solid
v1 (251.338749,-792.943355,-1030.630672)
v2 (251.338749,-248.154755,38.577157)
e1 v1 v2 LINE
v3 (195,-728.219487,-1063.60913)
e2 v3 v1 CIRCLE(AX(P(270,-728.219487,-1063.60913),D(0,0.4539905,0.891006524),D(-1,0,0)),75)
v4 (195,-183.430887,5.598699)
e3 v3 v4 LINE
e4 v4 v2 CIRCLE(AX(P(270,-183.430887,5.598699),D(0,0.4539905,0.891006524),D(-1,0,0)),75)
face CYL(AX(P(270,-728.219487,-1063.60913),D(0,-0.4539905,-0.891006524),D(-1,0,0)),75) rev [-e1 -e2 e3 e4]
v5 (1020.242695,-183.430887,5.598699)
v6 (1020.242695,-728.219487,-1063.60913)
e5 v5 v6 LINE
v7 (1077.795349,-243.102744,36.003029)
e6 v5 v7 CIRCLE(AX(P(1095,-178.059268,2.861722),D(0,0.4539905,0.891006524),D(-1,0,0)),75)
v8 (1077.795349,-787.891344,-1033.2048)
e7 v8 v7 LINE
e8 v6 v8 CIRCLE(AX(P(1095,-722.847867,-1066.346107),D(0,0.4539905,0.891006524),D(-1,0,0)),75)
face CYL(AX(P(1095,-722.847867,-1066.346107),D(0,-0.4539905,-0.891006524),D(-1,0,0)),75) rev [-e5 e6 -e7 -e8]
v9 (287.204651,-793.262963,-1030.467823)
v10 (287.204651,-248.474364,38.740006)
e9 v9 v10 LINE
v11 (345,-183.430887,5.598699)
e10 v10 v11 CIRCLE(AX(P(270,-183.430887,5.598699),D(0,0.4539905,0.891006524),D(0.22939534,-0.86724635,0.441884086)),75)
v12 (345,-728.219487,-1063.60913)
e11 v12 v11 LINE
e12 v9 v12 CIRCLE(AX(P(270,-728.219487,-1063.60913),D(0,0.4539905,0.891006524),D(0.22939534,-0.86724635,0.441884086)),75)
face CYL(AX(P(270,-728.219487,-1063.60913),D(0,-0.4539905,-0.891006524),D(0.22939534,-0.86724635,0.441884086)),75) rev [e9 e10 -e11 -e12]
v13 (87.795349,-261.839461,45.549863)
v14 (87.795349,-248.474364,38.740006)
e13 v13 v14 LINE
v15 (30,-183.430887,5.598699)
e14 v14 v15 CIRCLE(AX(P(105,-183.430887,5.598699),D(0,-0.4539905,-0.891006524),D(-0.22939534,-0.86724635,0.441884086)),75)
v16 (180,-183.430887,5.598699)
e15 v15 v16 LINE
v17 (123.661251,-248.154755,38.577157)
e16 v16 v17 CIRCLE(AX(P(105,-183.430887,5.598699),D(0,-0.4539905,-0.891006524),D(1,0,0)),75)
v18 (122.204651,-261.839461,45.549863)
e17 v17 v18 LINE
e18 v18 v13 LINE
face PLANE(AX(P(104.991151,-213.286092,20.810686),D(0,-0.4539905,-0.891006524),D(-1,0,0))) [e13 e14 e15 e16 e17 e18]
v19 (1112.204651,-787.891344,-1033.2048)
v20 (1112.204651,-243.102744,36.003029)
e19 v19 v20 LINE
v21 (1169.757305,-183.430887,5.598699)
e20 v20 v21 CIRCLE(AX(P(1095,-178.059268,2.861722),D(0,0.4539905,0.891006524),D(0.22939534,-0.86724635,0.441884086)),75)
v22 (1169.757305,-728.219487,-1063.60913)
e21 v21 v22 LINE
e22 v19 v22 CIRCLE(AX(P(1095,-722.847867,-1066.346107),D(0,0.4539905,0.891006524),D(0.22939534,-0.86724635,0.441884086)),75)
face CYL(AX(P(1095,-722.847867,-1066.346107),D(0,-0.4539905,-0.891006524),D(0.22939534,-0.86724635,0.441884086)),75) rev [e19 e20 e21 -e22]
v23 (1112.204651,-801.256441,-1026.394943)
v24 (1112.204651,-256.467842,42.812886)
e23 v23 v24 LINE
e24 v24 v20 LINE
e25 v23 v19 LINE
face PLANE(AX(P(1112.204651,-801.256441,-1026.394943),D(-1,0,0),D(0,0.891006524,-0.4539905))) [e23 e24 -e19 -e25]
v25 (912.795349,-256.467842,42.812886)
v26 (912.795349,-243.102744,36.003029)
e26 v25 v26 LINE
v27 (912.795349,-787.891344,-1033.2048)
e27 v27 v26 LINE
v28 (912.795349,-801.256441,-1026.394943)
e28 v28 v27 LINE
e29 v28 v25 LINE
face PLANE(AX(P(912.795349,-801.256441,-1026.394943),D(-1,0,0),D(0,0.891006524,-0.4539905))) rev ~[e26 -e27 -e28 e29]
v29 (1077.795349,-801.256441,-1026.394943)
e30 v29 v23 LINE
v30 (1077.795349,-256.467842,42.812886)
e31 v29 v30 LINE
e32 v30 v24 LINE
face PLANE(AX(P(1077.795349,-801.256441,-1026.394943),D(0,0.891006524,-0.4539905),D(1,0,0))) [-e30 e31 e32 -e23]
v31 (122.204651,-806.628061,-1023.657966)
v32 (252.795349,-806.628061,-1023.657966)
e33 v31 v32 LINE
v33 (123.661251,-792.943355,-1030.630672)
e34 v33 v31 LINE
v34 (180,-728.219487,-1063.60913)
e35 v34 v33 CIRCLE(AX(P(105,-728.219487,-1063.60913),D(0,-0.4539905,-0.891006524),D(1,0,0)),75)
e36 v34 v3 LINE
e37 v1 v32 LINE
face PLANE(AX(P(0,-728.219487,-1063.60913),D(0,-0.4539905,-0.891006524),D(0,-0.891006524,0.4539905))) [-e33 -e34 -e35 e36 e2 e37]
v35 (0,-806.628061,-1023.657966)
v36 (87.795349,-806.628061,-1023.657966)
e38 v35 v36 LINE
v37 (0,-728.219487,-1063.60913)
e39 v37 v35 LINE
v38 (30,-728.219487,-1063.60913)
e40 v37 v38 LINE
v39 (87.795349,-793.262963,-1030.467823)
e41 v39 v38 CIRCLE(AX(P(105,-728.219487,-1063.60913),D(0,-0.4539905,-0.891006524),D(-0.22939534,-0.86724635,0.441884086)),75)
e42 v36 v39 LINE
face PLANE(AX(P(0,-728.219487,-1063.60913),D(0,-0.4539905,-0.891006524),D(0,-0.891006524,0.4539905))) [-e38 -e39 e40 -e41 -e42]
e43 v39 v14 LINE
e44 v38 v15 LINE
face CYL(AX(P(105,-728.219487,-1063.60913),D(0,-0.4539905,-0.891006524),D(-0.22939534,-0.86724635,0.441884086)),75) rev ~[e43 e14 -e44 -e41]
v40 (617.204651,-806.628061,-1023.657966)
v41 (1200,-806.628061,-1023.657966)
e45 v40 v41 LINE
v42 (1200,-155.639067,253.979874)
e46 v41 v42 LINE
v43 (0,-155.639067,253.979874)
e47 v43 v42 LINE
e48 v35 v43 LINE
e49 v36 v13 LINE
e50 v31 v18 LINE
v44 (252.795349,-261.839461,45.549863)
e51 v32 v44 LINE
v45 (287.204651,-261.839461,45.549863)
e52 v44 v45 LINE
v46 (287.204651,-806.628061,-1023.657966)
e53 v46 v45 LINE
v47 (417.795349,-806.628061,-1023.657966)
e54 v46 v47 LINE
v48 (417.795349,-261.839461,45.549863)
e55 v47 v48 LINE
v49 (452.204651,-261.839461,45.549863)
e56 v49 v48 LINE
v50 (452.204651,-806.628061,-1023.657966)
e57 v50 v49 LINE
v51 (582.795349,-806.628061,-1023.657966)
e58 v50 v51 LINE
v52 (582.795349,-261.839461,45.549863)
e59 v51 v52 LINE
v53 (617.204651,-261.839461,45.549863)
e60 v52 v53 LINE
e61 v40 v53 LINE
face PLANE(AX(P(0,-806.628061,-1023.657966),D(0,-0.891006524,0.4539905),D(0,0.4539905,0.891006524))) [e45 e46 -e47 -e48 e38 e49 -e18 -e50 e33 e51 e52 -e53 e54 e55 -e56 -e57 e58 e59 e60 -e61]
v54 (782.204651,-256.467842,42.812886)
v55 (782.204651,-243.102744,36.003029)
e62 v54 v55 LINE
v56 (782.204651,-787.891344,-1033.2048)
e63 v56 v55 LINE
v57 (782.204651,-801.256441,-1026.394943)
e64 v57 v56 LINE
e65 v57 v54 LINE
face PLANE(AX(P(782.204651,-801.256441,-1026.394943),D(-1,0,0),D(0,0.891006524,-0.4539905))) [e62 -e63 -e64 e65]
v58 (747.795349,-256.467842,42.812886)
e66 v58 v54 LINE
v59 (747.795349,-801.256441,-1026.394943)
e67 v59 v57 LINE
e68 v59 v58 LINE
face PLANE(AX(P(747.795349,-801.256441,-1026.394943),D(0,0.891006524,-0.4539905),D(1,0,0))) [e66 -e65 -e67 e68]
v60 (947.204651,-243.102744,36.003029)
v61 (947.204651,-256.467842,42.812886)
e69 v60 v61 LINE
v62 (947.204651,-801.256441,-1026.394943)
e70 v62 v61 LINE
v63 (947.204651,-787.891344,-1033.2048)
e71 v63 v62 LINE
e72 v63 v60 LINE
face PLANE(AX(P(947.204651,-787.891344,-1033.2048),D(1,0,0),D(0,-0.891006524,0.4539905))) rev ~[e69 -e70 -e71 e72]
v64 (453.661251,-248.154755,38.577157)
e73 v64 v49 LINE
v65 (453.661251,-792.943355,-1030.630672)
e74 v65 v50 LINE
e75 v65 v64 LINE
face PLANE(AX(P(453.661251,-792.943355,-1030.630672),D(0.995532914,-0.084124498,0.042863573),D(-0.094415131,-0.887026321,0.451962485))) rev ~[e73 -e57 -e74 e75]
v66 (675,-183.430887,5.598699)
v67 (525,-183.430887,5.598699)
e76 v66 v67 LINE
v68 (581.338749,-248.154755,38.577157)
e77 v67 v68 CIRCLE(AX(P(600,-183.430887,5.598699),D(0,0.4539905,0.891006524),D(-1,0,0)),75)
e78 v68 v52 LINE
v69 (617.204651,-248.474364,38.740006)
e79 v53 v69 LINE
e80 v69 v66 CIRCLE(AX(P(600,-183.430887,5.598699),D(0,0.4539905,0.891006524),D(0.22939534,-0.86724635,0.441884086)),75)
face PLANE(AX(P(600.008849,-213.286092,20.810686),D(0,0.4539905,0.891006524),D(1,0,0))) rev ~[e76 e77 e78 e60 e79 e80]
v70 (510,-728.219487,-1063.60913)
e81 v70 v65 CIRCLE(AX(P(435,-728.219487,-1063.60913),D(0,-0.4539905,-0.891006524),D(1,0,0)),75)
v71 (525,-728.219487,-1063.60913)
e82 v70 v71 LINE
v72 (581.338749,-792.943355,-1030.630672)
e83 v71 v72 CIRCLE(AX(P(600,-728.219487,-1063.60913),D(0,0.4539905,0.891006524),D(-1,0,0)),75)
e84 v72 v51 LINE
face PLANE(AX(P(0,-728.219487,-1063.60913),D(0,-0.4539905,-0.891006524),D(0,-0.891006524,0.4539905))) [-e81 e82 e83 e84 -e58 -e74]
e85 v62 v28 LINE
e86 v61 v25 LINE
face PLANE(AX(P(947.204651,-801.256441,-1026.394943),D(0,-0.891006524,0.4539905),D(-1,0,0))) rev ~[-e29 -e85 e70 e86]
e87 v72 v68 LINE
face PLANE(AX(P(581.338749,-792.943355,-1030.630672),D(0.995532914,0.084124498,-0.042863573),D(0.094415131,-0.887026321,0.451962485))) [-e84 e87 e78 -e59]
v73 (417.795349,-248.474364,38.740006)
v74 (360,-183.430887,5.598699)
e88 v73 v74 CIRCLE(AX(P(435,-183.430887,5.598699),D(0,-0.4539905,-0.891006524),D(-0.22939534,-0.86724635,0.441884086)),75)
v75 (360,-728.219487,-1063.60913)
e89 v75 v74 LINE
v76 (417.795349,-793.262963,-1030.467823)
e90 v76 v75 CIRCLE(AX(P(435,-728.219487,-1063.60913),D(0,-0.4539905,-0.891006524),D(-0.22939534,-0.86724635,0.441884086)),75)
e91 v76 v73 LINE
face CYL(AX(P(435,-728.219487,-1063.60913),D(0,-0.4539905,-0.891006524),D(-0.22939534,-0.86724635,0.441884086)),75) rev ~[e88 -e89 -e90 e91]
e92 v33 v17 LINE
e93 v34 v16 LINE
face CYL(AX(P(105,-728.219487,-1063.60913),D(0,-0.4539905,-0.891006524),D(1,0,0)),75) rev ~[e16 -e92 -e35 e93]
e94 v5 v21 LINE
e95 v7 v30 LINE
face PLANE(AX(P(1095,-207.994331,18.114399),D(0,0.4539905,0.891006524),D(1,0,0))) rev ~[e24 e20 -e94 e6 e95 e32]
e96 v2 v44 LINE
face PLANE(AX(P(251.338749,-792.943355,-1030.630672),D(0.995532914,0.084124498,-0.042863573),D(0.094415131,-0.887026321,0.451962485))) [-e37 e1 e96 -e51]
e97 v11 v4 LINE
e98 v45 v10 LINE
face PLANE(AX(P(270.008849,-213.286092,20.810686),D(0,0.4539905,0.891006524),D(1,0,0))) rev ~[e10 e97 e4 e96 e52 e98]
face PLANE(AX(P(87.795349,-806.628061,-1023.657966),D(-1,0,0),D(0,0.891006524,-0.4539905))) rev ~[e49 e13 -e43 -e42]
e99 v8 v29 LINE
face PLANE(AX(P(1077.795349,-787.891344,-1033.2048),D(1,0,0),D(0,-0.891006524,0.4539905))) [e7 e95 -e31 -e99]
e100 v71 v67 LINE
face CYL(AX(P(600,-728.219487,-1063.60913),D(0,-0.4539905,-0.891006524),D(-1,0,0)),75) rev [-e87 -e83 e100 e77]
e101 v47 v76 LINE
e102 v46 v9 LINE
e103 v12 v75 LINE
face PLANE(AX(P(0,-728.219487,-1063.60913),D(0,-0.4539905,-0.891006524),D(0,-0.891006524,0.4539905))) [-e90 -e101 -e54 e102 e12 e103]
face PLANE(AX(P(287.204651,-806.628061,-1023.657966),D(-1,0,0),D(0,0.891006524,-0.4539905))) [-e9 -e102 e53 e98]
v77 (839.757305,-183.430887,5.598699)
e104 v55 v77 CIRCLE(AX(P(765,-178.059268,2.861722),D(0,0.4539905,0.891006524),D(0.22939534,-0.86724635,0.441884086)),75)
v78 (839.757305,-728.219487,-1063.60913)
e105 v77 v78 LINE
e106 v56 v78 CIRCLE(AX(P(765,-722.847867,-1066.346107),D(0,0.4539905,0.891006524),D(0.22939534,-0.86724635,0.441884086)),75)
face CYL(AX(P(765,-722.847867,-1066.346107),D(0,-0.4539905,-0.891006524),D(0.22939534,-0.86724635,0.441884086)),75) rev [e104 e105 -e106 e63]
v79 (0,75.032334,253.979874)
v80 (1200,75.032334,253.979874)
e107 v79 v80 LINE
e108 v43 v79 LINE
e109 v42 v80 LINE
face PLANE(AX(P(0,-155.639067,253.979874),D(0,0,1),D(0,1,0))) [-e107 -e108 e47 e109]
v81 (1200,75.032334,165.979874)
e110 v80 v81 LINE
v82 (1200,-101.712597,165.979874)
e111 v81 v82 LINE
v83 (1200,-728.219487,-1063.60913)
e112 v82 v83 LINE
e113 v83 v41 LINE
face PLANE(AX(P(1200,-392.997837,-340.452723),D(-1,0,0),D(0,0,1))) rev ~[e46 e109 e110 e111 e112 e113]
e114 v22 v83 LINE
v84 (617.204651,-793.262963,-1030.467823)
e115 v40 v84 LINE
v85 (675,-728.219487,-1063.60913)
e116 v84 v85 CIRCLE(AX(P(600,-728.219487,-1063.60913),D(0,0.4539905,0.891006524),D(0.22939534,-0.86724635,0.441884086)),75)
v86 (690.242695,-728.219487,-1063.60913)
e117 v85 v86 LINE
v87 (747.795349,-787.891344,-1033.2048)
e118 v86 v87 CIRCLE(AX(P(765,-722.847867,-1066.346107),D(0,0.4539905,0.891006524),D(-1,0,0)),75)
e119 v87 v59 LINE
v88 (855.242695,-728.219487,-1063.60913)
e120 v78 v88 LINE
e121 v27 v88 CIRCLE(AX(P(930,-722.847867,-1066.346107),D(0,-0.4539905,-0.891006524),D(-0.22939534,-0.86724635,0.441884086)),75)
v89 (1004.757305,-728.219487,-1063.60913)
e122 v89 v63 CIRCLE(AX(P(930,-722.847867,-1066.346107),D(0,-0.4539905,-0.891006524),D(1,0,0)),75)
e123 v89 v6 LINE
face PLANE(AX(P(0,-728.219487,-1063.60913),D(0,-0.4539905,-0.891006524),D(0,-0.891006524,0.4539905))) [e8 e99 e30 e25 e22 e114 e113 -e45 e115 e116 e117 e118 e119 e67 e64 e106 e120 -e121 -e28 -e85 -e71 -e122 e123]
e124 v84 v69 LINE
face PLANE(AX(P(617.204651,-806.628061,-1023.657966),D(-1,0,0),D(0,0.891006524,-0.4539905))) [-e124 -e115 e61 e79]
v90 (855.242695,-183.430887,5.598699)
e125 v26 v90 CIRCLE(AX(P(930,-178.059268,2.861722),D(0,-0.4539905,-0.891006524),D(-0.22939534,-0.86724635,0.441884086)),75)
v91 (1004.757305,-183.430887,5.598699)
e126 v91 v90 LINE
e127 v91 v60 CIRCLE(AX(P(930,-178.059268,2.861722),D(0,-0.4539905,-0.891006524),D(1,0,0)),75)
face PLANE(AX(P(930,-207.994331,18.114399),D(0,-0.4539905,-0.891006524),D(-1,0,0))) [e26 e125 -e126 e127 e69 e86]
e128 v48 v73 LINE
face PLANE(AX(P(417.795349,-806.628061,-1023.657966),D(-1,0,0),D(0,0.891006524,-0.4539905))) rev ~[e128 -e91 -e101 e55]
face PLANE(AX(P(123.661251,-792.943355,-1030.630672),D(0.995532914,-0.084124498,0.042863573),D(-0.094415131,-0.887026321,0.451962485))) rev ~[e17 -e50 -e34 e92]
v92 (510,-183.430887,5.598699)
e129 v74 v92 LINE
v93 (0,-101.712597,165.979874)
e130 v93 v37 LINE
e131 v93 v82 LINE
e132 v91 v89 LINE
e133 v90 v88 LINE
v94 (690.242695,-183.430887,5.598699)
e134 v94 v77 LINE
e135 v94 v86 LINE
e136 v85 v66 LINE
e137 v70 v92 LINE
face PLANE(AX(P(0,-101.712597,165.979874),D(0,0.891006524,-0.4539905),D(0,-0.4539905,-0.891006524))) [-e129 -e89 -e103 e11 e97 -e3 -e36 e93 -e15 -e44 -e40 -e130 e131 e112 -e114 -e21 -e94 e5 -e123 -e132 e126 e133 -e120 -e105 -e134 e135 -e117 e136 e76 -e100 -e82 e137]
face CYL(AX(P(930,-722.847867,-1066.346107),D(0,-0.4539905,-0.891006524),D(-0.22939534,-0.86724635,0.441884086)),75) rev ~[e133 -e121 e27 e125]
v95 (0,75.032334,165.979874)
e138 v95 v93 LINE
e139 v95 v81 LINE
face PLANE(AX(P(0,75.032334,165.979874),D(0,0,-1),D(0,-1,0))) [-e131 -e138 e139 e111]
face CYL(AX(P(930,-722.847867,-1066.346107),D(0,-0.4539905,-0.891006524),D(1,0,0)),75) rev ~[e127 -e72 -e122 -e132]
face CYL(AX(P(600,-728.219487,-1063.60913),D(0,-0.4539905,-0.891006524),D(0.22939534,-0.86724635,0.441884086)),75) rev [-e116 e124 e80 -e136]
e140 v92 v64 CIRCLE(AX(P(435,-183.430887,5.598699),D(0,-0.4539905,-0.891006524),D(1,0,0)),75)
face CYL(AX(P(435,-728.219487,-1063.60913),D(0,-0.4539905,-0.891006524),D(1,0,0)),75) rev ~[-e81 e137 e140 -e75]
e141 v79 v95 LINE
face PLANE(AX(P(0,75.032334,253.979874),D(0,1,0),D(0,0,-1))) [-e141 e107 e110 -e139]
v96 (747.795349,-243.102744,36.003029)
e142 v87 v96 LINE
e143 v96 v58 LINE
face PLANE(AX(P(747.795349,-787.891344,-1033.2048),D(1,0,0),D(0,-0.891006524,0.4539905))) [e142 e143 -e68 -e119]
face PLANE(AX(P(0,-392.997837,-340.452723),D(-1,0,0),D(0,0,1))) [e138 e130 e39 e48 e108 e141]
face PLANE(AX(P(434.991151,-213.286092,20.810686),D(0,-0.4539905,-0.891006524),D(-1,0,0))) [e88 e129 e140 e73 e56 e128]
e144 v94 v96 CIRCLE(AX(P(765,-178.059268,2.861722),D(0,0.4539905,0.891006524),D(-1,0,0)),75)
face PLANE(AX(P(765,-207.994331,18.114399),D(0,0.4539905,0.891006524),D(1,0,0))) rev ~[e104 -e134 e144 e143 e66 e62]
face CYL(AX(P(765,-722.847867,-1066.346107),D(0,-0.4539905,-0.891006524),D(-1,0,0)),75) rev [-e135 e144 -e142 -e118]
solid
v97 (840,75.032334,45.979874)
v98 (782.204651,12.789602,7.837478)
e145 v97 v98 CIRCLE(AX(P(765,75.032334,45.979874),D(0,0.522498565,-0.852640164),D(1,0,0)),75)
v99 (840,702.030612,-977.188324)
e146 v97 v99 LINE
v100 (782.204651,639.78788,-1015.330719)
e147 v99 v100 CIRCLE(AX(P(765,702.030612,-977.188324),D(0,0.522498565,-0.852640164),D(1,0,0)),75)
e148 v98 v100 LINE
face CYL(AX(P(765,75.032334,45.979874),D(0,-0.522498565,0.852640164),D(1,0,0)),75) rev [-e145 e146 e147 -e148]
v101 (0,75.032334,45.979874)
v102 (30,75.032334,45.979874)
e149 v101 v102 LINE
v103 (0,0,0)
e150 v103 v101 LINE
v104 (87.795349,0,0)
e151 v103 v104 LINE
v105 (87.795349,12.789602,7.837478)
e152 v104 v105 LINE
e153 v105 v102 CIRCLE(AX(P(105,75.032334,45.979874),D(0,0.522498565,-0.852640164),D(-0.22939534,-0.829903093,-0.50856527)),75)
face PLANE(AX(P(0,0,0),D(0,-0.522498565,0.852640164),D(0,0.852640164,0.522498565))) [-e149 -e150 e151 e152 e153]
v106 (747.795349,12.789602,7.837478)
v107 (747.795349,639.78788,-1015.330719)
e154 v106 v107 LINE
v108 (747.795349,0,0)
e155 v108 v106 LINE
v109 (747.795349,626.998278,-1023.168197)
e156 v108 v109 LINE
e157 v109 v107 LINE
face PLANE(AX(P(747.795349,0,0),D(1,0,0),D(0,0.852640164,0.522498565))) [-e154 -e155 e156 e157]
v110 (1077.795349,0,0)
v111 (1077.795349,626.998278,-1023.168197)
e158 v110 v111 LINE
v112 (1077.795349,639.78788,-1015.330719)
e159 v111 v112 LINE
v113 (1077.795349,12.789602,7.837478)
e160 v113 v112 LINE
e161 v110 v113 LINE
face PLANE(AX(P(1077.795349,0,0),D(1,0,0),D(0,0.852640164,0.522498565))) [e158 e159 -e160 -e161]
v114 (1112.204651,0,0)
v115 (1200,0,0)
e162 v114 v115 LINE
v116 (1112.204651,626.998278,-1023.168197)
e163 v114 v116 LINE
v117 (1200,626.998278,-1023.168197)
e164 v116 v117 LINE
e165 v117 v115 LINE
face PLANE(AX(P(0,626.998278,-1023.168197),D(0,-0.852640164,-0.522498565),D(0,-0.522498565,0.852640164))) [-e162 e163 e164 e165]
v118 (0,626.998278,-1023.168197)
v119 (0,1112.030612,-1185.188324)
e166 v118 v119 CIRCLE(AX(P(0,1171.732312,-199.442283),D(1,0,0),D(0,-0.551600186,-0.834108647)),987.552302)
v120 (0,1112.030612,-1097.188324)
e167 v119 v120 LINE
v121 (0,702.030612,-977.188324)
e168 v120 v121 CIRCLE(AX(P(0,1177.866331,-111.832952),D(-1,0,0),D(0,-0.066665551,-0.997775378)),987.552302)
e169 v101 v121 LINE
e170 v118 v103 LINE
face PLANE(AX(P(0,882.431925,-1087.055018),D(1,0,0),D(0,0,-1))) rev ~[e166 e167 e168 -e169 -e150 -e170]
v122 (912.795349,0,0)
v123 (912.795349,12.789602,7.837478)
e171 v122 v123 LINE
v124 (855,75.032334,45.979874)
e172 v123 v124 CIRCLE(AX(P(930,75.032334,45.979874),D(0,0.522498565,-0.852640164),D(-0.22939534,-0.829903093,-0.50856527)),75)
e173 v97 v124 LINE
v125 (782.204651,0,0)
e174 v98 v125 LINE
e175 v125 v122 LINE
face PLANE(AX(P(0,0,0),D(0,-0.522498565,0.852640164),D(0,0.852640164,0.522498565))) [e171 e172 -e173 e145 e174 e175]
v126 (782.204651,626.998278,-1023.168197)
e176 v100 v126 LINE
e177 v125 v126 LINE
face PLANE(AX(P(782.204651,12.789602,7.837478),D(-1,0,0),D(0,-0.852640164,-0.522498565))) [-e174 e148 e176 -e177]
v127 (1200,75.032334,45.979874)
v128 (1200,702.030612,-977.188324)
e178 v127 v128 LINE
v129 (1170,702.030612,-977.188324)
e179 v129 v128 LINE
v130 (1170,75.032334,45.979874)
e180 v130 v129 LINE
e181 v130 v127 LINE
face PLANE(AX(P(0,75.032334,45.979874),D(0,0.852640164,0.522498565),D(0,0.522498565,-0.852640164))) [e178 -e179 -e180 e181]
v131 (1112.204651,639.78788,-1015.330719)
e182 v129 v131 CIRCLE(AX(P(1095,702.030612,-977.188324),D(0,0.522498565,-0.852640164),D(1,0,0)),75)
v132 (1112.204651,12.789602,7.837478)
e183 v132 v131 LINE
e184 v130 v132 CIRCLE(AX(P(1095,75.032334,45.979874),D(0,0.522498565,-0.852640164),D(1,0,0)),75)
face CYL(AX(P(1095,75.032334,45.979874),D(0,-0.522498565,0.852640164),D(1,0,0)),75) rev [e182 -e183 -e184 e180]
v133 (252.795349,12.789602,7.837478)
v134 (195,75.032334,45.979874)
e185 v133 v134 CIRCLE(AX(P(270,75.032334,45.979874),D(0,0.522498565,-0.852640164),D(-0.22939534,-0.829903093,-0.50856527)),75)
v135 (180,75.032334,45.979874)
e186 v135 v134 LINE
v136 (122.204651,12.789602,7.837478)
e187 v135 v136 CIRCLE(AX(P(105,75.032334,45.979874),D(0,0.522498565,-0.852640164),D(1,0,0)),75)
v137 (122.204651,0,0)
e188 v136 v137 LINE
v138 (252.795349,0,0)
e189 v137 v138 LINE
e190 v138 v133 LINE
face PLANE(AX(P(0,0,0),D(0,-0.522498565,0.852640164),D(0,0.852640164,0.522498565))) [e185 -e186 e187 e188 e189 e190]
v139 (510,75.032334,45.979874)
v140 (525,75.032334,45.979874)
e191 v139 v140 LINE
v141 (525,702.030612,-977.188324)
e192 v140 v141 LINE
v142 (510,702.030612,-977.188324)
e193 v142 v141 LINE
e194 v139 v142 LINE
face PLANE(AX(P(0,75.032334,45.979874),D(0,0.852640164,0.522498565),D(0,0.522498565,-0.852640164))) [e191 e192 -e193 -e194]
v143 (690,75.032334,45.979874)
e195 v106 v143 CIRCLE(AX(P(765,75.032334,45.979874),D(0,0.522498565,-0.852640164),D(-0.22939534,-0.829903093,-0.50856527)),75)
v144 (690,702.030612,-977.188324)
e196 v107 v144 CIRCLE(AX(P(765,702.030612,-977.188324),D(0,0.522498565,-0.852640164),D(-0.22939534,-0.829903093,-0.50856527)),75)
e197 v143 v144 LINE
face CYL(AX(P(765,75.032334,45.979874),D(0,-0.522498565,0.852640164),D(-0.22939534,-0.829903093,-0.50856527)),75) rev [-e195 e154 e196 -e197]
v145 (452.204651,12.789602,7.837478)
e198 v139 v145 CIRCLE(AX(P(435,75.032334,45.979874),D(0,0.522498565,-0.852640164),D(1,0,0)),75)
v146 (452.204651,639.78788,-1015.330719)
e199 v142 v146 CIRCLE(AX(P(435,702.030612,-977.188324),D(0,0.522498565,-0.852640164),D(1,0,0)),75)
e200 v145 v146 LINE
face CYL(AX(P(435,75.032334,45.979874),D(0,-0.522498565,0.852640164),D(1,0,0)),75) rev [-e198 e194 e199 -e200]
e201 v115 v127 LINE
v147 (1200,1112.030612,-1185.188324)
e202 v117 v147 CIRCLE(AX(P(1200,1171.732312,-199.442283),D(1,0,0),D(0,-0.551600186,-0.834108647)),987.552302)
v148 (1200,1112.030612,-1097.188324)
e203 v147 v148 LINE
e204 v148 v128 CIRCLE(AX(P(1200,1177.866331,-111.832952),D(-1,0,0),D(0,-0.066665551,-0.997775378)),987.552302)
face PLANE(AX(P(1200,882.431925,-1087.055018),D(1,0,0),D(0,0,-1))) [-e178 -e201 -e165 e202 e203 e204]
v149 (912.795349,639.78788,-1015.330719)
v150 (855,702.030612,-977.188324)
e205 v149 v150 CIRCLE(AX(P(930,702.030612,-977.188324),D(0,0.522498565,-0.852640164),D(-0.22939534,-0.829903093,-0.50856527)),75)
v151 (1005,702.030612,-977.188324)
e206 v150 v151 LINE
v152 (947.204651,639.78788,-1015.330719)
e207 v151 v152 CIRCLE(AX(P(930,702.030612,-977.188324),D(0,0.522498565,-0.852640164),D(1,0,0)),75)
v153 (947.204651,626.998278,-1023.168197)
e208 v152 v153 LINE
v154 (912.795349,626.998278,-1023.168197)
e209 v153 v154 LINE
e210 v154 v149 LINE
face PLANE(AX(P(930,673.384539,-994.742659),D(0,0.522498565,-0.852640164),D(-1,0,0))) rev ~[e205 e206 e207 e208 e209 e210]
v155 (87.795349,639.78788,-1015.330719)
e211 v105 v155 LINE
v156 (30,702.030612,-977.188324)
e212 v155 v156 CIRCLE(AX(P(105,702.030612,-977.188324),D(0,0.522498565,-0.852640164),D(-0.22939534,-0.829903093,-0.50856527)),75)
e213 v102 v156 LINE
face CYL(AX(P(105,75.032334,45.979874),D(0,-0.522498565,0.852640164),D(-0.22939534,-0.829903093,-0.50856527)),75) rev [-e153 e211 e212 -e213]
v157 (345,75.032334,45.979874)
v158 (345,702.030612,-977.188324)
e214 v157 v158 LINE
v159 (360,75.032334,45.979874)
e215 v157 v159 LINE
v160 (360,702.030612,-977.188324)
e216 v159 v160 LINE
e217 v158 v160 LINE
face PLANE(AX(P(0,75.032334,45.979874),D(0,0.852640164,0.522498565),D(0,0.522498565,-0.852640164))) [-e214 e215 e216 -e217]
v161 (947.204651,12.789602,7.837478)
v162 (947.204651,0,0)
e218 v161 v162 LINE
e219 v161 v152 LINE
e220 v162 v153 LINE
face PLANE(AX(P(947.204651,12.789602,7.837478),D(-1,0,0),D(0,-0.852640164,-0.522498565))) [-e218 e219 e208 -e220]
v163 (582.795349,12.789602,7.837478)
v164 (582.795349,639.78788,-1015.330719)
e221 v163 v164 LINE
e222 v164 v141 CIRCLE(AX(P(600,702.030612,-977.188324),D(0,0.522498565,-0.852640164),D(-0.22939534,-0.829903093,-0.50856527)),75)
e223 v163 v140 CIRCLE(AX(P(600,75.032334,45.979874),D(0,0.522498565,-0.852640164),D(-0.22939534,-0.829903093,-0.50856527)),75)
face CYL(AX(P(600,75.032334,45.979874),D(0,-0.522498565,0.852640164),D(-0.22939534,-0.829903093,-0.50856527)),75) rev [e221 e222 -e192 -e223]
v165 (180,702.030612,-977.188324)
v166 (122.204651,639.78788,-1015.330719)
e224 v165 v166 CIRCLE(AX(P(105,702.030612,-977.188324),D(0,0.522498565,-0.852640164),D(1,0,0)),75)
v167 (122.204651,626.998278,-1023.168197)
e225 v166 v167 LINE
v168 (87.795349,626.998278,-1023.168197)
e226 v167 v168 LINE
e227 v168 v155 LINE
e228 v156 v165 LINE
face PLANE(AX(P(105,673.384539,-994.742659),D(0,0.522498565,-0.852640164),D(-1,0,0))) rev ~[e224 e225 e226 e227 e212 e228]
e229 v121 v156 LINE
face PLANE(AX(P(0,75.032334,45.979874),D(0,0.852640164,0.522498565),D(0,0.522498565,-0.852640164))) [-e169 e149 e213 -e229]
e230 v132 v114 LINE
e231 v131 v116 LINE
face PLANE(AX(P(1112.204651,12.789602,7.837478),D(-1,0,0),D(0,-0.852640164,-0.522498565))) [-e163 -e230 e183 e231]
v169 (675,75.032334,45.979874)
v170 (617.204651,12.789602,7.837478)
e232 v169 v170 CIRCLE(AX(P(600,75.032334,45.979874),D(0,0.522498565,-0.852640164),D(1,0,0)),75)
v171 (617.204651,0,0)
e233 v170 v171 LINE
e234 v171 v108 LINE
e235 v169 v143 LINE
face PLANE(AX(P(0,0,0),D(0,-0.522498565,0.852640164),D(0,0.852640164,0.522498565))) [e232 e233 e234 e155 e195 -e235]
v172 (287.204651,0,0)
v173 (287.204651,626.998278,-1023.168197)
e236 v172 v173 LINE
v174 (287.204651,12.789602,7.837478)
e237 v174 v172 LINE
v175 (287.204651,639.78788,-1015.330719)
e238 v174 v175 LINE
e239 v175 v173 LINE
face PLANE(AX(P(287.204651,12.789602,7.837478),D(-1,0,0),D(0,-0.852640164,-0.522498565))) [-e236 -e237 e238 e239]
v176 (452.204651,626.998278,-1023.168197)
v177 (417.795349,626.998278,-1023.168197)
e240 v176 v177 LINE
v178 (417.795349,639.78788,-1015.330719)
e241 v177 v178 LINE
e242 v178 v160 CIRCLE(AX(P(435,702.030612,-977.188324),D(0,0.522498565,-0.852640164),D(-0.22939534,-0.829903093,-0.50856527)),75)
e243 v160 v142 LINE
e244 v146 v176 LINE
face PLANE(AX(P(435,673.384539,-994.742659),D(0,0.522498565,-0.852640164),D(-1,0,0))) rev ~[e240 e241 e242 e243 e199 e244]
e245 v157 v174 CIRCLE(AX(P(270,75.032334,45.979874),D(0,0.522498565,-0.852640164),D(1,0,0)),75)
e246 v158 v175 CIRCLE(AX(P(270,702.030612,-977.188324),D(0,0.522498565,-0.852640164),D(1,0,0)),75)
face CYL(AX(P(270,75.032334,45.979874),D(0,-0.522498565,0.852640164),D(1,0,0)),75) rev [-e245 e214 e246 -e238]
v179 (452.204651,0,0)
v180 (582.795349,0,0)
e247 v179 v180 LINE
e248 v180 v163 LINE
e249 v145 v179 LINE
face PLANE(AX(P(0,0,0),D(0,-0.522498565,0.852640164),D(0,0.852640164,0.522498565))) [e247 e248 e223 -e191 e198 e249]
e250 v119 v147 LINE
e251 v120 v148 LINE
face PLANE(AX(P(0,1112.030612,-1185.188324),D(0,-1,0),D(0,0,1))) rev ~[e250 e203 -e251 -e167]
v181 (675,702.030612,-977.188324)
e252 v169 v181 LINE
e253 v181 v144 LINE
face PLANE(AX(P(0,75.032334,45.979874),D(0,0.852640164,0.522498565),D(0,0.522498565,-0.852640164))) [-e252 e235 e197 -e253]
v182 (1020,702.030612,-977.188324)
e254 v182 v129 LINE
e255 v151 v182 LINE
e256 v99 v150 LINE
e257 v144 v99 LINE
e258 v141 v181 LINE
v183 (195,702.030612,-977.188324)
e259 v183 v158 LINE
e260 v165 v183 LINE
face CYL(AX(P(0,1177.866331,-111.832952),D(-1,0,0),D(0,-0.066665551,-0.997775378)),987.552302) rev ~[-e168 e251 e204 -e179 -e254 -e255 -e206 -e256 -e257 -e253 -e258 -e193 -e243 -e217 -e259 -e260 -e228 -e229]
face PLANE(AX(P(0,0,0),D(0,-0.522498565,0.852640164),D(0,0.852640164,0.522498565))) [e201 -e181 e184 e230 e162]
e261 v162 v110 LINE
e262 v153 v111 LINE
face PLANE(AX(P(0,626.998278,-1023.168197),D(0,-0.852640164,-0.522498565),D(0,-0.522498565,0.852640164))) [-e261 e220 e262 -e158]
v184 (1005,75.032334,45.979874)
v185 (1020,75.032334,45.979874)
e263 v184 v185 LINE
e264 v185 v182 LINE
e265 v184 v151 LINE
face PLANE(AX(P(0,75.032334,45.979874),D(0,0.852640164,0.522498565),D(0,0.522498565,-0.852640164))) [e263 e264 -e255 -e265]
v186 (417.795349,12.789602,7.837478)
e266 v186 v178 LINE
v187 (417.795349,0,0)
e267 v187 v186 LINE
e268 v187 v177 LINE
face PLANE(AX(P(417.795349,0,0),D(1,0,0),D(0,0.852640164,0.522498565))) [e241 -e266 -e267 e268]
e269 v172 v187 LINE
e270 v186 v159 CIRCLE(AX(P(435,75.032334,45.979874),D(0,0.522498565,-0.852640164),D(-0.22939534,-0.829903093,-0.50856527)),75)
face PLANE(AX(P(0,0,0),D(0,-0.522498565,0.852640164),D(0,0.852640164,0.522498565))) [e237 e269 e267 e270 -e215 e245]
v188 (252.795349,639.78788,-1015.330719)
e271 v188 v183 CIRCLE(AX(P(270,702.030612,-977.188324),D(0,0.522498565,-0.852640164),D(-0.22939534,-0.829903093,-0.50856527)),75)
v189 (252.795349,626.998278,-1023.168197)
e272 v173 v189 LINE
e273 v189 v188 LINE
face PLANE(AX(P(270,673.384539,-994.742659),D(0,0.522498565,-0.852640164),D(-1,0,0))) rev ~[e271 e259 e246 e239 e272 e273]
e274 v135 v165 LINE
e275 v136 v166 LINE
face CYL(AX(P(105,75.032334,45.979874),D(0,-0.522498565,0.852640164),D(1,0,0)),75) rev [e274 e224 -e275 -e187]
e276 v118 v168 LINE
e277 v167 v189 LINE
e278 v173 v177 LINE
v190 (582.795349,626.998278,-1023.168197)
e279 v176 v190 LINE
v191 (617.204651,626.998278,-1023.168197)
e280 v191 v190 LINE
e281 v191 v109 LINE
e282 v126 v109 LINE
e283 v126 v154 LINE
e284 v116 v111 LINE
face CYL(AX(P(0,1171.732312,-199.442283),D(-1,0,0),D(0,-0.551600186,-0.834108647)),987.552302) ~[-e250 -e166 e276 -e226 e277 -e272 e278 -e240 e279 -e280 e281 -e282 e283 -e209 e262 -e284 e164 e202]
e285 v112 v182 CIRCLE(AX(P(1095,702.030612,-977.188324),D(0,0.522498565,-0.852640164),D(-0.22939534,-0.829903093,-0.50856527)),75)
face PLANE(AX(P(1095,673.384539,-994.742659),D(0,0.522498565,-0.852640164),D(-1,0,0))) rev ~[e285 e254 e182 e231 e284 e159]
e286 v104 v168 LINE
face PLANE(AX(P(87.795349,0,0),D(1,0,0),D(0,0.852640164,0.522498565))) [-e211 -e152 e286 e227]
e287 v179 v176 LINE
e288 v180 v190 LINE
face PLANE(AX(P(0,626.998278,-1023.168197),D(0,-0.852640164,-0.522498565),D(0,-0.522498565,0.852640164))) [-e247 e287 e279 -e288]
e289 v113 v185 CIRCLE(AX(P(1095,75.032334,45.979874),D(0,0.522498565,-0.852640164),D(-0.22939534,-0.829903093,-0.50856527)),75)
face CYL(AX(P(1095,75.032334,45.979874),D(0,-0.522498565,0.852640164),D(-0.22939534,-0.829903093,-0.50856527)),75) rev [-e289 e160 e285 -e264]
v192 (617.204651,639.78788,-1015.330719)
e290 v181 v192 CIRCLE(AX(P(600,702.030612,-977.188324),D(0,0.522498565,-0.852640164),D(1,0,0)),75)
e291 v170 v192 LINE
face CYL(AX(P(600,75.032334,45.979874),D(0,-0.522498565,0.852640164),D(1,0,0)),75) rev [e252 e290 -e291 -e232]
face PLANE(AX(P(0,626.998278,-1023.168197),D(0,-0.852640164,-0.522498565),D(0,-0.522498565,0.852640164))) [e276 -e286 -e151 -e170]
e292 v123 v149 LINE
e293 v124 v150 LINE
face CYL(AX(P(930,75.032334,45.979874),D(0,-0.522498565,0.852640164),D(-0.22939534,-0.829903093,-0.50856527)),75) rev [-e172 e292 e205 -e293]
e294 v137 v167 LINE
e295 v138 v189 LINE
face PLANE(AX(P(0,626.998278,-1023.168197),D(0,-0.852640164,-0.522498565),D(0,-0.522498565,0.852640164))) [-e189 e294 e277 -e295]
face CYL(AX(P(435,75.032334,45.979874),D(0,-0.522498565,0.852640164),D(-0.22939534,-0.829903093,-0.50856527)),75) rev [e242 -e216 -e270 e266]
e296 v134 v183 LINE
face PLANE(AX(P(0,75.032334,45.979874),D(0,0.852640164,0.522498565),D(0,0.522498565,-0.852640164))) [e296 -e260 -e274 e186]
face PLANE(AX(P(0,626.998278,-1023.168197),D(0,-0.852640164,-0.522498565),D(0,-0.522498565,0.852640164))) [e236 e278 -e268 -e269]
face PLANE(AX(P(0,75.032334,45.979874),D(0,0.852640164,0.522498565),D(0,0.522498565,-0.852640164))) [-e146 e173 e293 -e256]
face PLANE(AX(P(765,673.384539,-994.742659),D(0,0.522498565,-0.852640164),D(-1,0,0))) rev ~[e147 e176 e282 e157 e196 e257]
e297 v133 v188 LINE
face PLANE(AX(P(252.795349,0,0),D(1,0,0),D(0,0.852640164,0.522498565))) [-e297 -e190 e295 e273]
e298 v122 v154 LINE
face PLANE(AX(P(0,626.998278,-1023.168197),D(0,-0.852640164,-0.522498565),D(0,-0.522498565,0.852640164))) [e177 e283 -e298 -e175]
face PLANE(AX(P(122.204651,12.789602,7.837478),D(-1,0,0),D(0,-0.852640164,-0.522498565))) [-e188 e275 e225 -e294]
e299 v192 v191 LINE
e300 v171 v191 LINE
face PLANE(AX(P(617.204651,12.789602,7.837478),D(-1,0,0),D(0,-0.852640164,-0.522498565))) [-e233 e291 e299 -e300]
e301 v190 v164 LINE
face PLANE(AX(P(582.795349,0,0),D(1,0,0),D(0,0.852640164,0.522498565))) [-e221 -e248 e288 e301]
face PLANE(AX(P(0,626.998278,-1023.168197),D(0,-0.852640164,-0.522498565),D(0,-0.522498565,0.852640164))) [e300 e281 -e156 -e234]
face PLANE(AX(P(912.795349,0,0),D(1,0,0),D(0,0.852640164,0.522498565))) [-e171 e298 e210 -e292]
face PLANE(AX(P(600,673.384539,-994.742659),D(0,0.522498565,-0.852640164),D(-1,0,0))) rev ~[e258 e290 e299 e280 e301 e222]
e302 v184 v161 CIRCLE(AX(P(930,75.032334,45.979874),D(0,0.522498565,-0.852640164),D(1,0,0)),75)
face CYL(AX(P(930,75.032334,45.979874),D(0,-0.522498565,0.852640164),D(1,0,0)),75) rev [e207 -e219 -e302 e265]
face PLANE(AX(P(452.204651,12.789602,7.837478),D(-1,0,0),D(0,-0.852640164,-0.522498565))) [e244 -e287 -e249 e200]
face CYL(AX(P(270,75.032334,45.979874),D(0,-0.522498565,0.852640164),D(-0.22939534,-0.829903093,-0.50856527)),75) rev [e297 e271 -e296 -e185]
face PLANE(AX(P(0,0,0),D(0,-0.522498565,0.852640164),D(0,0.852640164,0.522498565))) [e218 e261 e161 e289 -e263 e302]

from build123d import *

# Parameters (mm, degrees)
BOSS_EXTRUDE1_DEPTH = 1200
CUT_EXTRUDE1_DEPTH  = 1200
CUT_EXTRUDE2_DEPTH  = 1200


with BuildPart() as part:
    # Sketch1 → Boss-Extrude1 (new body)
    with BuildSketch(Plane(origin=(0, 0, 0), x_dir=(0, 0, -1), z_dir=(1, 0, 0))):
        with BuildLine():
            Line((977.18832353, 702.030612122), (1023.168197225, 626.998277659))
            ThreePointArc((1023.168197225, 626.998277659), (1136.117936637, 858.845320352), (1185.18832353, 1112.030612122))
            Line((1185.18832353, 1112.030612122), (1097.18832353, 1112.030612122))
            ThreePointArc((1097.18832353, 1112.030612122), (1059.623838022, 900.464120076), (977.18832353, 702.030612122))
        make_face()
        Polygon((977.18832353, 702.030612122), (1023.168197225, 626.998277659), (0, 0), (-45.979873695, 75.032334463), align=None)
        Polygon((1063.609129685, -728.219487056), (1023.657965708, -806.628061185), (-253.979873695, -155.639066772), (-253.979873695, 75.032334463), (-165.979873695, 75.032334463), (-165.979873695, -101.712597416), align=None)
    extrude(amount=BOSS_EXTRUDE1_DEPTH)

    # Sketch3 → Cut-Extrude1 (cut)
    with BuildSketch(Plane(origin=(0, 0, 0), x_dir=(1, 0, 0), z_dir=(0, -0.5224985647159087, 0.8526401643541169))):
        with BuildLine():
            Line((30, 88), (180, 88))
            ThreePointArc((180, 88), (163.801993121, 41.445455593), (122.204650534, 15))
            Line((122.204650534, 15), (122.204650534, 0))
            Line((122.204650534, 0), (87.795349466, 0))
            Line((87.795349466, 0), (87.795349466, 15))
            ThreePointArc((87.795349466, 15), (46.198006879, 41.445455593), (30, 88))
        make_face()
        with BuildLine():
            ThreePointArc((252.795349466, 15), (211.198006879, 41.445455593), (195, 88))
            Line((195, 88), (345, 88))
            ThreePointArc((345, 88), (328.801993121, 41.445455593), (287.204650534, 15))
            Line((287.204650534, 15), (287.204650534, 0))
            Line((287.204650534, 0), (252.795349466, 0))
            Line((252.795349466, 0), (252.795349466, 15))
        make_face()
        with BuildLine():
            Line((360, 88), (510, 88))
            ThreePointArc((510, 88), (493.801993121, 41.445455593), (452.204650534, 15))
            Line((452.204650534, 15), (452.204650534, 0))
            Line((452.204650534, 0), (417.795349466, 0))
            Line((417.795349466, 0), (417.795349466, 15))
            ThreePointArc((417.795349466, 15), (376.198006879, 41.445455593), (360, 88))
        make_face()
        with BuildLine():
            Line((617.204650534, 15), (617.204650534, 0))
            Line((617.204650534, 0), (582.795349466, 0))
            Line((582.795349466, 0), (582.795349466, 15))
            ThreePointArc((582.795349466, 15), (541.198006879, 41.445455593), (525, 88))
            Line((525, 88), (675, 88))
            ThreePointArc((675, 88), (658.801993121, 41.445455593), (617.204650534, 15))
        make_face()
        with BuildLine():
            ThreePointArc((747.795349466, 15), (706.198006879, 41.445455593), (690, 88))
            Line((690, 88), (840, 88))
            ThreePointArc((840, 88), (823.801993121, 41.445455593), (782.204650534, 15))
            Line((782.204650534, 15), (782.204650534, 0))
            Line((782.204650534, 0), (747.795349466, 0))
            Line((747.795349466, 0), (747.795349466, 15))
        make_face()
        with BuildLine():
            Line((855, 88), (1005, 88))
            ThreePointArc((1005, 88), (988.801993121, 41.445455593), (947.204650534, 15))
            Line((947.204650534, 15), (947.204650534, 0))
            Line((947.204650534, 0), (912.795349466, 0))
            Line((912.795349466, 0), (912.795349466, 15))
            ThreePointArc((912.795349466, 15), (871.198006879, 41.445455593), (855, 88))
        make_face()
        with BuildLine():
            ThreePointArc((1077.795349466, 15), (1036.198006879, 41.445455593), (1020, 88))
            Line((1020, 88), (1170, 88))
            ThreePointArc((1170, 88), (1153.801993121, 41.445455593), (1112.204650534, 15))
            Line((1112.204650534, 15), (1112.204650534, 0))
            Line((1112.204650534, 0), (1077.795349466, 0))
            Line((1077.795349466, 0), (1077.795349466, 15))
        make_face()
    extrude(amount=-CUT_EXTRUDE1_DEPTH, mode=Mode.SUBTRACT)

    # Sketch4 → Cut-Extrude2 (cut)
    with BuildSketch(Plane(origin=(0, -580.33033671, -1138.96241549), x_dir=(-1, 0, 0), z_dir=(0, -0.45399049973954275, -0.89100652418837))):
        with BuildLine():
            Line((-675, -165.979873695), (-525, -165.979873695))
            ThreePointArc((-525, -165.979873695), (-540.735365265, -211.944023527), (-581.338748527, -238.62116838))
            Line((-581.338748527, -238.62116838), (-582.795349466, -253.979873695))
            Line((-582.795349466, -253.979873695), (-617.204650534, -253.979873695))
            Line((-617.204650534, -253.979873695), (-617.204650534, -238.979873695))
            ThreePointArc((-617.204650534, -238.979873695), (-658.801993121, -212.534418102), (-675, -165.979873695))
        make_face()
        with BuildLine():
            Line((-453.661251473, -238.62116838), (-452.204650534, -253.979873695))
            Line((-452.204650534, -253.979873695), (-417.795349466, -253.979873695))
            Line((-417.795349466, -253.979873695), (-417.795349466, -238.979873695))
            ThreePointArc((-417.795349466, -238.979873695), (-376.198006879, -212.534418102), (-360, -165.979873695))
            Line((-360, -165.979873695), (-510, -165.979873695))
            ThreePointArc((-510, -165.979873695), (-494.264634735, -211.944023527), (-453.661251473, -238.62116838))
        make_face()
        with BuildLine():
            Line((-345, -165.979873695), (-195, -165.979873695))
            ThreePointArc((-195, -165.979873695), (-210.735365265, -211.944023527), (-251.338748527, -238.62116838))
            Line((-251.338748527, -238.62116838), (-252.795349466, -253.979873695))
            Line((-252.795349466, -253.979873695), (-287.204650534, -253.979873695))
            Line((-287.204650534, -253.979873695), (-287.204650534, -238.979873695))
            ThreePointArc((-287.204650534, -238.979873695), (-328.801993121, -212.534418102), (-345, -165.979873695))
        make_face()
        with BuildLine():
            Line((-123.661251473, -238.62116838), (-122.204650534, -253.979873695))
            Line((-122.204650534, -253.979873695), (-87.795349466, -253.979873695))
            Line((-87.795349466, -253.979873695), (-87.795349466, -238.979873695))
            ThreePointArc((-87.795349466, -238.979873695), (-46.198006879, -212.534418102), (-30, -165.979873695))
            Line((-30, -165.979873695), (-180, -165.979873695))
            ThreePointArc((-180, -165.979873695), (-164.264634735, -211.944023527), (-123.661251473, -238.62116838))
        make_face()
        with BuildLine():
            Line((-1170, -159.951163977), (-1020, -159.951163977))
            ThreePointArc((-1020, -159.951163977), (-1036.198006879, -206.505708384), (-1077.795349466, -232.951163977))
            Line((-1077.795349466, -232.951163977), (-1077.795349466, -247.951163977))
            Line((-1077.795349466, -247.951163977), (-1112.204650534, -247.951163977))
            Line((-1112.204650534, -247.951163977), (-1112.204650534, -232.951163977))
            ThreePointArc((-1112.204650534, -232.951163977), (-1153.801993121, -206.505708384), (-1170, -159.951163977))
        make_face()
        with BuildLine():
            Line((-947.204650534, -232.951163977), (-947.204650534, -247.951163977))
            Line((-947.204650534, -247.951163977), (-912.795349466, -247.951163977))
            Line((-912.795349466, -247.951163977), (-912.795349466, -232.951163977))
            ThreePointArc((-912.795349466, -232.951163977), (-871.198006879, -206.505708384), (-855, -159.951163977))
            Line((-855, -159.951163977), (-1005, -159.951163977))
            ThreePointArc((-1005, -159.951163977), (-988.801993121, -206.505708384), (-947.204650534, -232.951163977))
        make_face()
        with BuildLine():
            Line((-840, -159.951163977), (-690, -159.951163977))
            ThreePointArc((-690, -159.951163977), (-706.198006879, -206.505708384), (-747.795349466, -232.951163977))
            Line((-747.795349466, -232.951163977), (-747.795349466, -247.951163977))
            Line((-747.795349466, -247.951163977), (-782.204650534, -247.951163977))
            Line((-782.204650534, -247.951163977), (-782.204650534, -232.951163977))
            ThreePointArc((-782.204650534, -232.951163977), (-823.801993121, -206.505708384), (-840, -159.951163977))
        make_face()
    extrude(amount=-CUT_EXTRUDE2_DEPTH, mode=Mode.SUBTRACT)


solid = part.part
